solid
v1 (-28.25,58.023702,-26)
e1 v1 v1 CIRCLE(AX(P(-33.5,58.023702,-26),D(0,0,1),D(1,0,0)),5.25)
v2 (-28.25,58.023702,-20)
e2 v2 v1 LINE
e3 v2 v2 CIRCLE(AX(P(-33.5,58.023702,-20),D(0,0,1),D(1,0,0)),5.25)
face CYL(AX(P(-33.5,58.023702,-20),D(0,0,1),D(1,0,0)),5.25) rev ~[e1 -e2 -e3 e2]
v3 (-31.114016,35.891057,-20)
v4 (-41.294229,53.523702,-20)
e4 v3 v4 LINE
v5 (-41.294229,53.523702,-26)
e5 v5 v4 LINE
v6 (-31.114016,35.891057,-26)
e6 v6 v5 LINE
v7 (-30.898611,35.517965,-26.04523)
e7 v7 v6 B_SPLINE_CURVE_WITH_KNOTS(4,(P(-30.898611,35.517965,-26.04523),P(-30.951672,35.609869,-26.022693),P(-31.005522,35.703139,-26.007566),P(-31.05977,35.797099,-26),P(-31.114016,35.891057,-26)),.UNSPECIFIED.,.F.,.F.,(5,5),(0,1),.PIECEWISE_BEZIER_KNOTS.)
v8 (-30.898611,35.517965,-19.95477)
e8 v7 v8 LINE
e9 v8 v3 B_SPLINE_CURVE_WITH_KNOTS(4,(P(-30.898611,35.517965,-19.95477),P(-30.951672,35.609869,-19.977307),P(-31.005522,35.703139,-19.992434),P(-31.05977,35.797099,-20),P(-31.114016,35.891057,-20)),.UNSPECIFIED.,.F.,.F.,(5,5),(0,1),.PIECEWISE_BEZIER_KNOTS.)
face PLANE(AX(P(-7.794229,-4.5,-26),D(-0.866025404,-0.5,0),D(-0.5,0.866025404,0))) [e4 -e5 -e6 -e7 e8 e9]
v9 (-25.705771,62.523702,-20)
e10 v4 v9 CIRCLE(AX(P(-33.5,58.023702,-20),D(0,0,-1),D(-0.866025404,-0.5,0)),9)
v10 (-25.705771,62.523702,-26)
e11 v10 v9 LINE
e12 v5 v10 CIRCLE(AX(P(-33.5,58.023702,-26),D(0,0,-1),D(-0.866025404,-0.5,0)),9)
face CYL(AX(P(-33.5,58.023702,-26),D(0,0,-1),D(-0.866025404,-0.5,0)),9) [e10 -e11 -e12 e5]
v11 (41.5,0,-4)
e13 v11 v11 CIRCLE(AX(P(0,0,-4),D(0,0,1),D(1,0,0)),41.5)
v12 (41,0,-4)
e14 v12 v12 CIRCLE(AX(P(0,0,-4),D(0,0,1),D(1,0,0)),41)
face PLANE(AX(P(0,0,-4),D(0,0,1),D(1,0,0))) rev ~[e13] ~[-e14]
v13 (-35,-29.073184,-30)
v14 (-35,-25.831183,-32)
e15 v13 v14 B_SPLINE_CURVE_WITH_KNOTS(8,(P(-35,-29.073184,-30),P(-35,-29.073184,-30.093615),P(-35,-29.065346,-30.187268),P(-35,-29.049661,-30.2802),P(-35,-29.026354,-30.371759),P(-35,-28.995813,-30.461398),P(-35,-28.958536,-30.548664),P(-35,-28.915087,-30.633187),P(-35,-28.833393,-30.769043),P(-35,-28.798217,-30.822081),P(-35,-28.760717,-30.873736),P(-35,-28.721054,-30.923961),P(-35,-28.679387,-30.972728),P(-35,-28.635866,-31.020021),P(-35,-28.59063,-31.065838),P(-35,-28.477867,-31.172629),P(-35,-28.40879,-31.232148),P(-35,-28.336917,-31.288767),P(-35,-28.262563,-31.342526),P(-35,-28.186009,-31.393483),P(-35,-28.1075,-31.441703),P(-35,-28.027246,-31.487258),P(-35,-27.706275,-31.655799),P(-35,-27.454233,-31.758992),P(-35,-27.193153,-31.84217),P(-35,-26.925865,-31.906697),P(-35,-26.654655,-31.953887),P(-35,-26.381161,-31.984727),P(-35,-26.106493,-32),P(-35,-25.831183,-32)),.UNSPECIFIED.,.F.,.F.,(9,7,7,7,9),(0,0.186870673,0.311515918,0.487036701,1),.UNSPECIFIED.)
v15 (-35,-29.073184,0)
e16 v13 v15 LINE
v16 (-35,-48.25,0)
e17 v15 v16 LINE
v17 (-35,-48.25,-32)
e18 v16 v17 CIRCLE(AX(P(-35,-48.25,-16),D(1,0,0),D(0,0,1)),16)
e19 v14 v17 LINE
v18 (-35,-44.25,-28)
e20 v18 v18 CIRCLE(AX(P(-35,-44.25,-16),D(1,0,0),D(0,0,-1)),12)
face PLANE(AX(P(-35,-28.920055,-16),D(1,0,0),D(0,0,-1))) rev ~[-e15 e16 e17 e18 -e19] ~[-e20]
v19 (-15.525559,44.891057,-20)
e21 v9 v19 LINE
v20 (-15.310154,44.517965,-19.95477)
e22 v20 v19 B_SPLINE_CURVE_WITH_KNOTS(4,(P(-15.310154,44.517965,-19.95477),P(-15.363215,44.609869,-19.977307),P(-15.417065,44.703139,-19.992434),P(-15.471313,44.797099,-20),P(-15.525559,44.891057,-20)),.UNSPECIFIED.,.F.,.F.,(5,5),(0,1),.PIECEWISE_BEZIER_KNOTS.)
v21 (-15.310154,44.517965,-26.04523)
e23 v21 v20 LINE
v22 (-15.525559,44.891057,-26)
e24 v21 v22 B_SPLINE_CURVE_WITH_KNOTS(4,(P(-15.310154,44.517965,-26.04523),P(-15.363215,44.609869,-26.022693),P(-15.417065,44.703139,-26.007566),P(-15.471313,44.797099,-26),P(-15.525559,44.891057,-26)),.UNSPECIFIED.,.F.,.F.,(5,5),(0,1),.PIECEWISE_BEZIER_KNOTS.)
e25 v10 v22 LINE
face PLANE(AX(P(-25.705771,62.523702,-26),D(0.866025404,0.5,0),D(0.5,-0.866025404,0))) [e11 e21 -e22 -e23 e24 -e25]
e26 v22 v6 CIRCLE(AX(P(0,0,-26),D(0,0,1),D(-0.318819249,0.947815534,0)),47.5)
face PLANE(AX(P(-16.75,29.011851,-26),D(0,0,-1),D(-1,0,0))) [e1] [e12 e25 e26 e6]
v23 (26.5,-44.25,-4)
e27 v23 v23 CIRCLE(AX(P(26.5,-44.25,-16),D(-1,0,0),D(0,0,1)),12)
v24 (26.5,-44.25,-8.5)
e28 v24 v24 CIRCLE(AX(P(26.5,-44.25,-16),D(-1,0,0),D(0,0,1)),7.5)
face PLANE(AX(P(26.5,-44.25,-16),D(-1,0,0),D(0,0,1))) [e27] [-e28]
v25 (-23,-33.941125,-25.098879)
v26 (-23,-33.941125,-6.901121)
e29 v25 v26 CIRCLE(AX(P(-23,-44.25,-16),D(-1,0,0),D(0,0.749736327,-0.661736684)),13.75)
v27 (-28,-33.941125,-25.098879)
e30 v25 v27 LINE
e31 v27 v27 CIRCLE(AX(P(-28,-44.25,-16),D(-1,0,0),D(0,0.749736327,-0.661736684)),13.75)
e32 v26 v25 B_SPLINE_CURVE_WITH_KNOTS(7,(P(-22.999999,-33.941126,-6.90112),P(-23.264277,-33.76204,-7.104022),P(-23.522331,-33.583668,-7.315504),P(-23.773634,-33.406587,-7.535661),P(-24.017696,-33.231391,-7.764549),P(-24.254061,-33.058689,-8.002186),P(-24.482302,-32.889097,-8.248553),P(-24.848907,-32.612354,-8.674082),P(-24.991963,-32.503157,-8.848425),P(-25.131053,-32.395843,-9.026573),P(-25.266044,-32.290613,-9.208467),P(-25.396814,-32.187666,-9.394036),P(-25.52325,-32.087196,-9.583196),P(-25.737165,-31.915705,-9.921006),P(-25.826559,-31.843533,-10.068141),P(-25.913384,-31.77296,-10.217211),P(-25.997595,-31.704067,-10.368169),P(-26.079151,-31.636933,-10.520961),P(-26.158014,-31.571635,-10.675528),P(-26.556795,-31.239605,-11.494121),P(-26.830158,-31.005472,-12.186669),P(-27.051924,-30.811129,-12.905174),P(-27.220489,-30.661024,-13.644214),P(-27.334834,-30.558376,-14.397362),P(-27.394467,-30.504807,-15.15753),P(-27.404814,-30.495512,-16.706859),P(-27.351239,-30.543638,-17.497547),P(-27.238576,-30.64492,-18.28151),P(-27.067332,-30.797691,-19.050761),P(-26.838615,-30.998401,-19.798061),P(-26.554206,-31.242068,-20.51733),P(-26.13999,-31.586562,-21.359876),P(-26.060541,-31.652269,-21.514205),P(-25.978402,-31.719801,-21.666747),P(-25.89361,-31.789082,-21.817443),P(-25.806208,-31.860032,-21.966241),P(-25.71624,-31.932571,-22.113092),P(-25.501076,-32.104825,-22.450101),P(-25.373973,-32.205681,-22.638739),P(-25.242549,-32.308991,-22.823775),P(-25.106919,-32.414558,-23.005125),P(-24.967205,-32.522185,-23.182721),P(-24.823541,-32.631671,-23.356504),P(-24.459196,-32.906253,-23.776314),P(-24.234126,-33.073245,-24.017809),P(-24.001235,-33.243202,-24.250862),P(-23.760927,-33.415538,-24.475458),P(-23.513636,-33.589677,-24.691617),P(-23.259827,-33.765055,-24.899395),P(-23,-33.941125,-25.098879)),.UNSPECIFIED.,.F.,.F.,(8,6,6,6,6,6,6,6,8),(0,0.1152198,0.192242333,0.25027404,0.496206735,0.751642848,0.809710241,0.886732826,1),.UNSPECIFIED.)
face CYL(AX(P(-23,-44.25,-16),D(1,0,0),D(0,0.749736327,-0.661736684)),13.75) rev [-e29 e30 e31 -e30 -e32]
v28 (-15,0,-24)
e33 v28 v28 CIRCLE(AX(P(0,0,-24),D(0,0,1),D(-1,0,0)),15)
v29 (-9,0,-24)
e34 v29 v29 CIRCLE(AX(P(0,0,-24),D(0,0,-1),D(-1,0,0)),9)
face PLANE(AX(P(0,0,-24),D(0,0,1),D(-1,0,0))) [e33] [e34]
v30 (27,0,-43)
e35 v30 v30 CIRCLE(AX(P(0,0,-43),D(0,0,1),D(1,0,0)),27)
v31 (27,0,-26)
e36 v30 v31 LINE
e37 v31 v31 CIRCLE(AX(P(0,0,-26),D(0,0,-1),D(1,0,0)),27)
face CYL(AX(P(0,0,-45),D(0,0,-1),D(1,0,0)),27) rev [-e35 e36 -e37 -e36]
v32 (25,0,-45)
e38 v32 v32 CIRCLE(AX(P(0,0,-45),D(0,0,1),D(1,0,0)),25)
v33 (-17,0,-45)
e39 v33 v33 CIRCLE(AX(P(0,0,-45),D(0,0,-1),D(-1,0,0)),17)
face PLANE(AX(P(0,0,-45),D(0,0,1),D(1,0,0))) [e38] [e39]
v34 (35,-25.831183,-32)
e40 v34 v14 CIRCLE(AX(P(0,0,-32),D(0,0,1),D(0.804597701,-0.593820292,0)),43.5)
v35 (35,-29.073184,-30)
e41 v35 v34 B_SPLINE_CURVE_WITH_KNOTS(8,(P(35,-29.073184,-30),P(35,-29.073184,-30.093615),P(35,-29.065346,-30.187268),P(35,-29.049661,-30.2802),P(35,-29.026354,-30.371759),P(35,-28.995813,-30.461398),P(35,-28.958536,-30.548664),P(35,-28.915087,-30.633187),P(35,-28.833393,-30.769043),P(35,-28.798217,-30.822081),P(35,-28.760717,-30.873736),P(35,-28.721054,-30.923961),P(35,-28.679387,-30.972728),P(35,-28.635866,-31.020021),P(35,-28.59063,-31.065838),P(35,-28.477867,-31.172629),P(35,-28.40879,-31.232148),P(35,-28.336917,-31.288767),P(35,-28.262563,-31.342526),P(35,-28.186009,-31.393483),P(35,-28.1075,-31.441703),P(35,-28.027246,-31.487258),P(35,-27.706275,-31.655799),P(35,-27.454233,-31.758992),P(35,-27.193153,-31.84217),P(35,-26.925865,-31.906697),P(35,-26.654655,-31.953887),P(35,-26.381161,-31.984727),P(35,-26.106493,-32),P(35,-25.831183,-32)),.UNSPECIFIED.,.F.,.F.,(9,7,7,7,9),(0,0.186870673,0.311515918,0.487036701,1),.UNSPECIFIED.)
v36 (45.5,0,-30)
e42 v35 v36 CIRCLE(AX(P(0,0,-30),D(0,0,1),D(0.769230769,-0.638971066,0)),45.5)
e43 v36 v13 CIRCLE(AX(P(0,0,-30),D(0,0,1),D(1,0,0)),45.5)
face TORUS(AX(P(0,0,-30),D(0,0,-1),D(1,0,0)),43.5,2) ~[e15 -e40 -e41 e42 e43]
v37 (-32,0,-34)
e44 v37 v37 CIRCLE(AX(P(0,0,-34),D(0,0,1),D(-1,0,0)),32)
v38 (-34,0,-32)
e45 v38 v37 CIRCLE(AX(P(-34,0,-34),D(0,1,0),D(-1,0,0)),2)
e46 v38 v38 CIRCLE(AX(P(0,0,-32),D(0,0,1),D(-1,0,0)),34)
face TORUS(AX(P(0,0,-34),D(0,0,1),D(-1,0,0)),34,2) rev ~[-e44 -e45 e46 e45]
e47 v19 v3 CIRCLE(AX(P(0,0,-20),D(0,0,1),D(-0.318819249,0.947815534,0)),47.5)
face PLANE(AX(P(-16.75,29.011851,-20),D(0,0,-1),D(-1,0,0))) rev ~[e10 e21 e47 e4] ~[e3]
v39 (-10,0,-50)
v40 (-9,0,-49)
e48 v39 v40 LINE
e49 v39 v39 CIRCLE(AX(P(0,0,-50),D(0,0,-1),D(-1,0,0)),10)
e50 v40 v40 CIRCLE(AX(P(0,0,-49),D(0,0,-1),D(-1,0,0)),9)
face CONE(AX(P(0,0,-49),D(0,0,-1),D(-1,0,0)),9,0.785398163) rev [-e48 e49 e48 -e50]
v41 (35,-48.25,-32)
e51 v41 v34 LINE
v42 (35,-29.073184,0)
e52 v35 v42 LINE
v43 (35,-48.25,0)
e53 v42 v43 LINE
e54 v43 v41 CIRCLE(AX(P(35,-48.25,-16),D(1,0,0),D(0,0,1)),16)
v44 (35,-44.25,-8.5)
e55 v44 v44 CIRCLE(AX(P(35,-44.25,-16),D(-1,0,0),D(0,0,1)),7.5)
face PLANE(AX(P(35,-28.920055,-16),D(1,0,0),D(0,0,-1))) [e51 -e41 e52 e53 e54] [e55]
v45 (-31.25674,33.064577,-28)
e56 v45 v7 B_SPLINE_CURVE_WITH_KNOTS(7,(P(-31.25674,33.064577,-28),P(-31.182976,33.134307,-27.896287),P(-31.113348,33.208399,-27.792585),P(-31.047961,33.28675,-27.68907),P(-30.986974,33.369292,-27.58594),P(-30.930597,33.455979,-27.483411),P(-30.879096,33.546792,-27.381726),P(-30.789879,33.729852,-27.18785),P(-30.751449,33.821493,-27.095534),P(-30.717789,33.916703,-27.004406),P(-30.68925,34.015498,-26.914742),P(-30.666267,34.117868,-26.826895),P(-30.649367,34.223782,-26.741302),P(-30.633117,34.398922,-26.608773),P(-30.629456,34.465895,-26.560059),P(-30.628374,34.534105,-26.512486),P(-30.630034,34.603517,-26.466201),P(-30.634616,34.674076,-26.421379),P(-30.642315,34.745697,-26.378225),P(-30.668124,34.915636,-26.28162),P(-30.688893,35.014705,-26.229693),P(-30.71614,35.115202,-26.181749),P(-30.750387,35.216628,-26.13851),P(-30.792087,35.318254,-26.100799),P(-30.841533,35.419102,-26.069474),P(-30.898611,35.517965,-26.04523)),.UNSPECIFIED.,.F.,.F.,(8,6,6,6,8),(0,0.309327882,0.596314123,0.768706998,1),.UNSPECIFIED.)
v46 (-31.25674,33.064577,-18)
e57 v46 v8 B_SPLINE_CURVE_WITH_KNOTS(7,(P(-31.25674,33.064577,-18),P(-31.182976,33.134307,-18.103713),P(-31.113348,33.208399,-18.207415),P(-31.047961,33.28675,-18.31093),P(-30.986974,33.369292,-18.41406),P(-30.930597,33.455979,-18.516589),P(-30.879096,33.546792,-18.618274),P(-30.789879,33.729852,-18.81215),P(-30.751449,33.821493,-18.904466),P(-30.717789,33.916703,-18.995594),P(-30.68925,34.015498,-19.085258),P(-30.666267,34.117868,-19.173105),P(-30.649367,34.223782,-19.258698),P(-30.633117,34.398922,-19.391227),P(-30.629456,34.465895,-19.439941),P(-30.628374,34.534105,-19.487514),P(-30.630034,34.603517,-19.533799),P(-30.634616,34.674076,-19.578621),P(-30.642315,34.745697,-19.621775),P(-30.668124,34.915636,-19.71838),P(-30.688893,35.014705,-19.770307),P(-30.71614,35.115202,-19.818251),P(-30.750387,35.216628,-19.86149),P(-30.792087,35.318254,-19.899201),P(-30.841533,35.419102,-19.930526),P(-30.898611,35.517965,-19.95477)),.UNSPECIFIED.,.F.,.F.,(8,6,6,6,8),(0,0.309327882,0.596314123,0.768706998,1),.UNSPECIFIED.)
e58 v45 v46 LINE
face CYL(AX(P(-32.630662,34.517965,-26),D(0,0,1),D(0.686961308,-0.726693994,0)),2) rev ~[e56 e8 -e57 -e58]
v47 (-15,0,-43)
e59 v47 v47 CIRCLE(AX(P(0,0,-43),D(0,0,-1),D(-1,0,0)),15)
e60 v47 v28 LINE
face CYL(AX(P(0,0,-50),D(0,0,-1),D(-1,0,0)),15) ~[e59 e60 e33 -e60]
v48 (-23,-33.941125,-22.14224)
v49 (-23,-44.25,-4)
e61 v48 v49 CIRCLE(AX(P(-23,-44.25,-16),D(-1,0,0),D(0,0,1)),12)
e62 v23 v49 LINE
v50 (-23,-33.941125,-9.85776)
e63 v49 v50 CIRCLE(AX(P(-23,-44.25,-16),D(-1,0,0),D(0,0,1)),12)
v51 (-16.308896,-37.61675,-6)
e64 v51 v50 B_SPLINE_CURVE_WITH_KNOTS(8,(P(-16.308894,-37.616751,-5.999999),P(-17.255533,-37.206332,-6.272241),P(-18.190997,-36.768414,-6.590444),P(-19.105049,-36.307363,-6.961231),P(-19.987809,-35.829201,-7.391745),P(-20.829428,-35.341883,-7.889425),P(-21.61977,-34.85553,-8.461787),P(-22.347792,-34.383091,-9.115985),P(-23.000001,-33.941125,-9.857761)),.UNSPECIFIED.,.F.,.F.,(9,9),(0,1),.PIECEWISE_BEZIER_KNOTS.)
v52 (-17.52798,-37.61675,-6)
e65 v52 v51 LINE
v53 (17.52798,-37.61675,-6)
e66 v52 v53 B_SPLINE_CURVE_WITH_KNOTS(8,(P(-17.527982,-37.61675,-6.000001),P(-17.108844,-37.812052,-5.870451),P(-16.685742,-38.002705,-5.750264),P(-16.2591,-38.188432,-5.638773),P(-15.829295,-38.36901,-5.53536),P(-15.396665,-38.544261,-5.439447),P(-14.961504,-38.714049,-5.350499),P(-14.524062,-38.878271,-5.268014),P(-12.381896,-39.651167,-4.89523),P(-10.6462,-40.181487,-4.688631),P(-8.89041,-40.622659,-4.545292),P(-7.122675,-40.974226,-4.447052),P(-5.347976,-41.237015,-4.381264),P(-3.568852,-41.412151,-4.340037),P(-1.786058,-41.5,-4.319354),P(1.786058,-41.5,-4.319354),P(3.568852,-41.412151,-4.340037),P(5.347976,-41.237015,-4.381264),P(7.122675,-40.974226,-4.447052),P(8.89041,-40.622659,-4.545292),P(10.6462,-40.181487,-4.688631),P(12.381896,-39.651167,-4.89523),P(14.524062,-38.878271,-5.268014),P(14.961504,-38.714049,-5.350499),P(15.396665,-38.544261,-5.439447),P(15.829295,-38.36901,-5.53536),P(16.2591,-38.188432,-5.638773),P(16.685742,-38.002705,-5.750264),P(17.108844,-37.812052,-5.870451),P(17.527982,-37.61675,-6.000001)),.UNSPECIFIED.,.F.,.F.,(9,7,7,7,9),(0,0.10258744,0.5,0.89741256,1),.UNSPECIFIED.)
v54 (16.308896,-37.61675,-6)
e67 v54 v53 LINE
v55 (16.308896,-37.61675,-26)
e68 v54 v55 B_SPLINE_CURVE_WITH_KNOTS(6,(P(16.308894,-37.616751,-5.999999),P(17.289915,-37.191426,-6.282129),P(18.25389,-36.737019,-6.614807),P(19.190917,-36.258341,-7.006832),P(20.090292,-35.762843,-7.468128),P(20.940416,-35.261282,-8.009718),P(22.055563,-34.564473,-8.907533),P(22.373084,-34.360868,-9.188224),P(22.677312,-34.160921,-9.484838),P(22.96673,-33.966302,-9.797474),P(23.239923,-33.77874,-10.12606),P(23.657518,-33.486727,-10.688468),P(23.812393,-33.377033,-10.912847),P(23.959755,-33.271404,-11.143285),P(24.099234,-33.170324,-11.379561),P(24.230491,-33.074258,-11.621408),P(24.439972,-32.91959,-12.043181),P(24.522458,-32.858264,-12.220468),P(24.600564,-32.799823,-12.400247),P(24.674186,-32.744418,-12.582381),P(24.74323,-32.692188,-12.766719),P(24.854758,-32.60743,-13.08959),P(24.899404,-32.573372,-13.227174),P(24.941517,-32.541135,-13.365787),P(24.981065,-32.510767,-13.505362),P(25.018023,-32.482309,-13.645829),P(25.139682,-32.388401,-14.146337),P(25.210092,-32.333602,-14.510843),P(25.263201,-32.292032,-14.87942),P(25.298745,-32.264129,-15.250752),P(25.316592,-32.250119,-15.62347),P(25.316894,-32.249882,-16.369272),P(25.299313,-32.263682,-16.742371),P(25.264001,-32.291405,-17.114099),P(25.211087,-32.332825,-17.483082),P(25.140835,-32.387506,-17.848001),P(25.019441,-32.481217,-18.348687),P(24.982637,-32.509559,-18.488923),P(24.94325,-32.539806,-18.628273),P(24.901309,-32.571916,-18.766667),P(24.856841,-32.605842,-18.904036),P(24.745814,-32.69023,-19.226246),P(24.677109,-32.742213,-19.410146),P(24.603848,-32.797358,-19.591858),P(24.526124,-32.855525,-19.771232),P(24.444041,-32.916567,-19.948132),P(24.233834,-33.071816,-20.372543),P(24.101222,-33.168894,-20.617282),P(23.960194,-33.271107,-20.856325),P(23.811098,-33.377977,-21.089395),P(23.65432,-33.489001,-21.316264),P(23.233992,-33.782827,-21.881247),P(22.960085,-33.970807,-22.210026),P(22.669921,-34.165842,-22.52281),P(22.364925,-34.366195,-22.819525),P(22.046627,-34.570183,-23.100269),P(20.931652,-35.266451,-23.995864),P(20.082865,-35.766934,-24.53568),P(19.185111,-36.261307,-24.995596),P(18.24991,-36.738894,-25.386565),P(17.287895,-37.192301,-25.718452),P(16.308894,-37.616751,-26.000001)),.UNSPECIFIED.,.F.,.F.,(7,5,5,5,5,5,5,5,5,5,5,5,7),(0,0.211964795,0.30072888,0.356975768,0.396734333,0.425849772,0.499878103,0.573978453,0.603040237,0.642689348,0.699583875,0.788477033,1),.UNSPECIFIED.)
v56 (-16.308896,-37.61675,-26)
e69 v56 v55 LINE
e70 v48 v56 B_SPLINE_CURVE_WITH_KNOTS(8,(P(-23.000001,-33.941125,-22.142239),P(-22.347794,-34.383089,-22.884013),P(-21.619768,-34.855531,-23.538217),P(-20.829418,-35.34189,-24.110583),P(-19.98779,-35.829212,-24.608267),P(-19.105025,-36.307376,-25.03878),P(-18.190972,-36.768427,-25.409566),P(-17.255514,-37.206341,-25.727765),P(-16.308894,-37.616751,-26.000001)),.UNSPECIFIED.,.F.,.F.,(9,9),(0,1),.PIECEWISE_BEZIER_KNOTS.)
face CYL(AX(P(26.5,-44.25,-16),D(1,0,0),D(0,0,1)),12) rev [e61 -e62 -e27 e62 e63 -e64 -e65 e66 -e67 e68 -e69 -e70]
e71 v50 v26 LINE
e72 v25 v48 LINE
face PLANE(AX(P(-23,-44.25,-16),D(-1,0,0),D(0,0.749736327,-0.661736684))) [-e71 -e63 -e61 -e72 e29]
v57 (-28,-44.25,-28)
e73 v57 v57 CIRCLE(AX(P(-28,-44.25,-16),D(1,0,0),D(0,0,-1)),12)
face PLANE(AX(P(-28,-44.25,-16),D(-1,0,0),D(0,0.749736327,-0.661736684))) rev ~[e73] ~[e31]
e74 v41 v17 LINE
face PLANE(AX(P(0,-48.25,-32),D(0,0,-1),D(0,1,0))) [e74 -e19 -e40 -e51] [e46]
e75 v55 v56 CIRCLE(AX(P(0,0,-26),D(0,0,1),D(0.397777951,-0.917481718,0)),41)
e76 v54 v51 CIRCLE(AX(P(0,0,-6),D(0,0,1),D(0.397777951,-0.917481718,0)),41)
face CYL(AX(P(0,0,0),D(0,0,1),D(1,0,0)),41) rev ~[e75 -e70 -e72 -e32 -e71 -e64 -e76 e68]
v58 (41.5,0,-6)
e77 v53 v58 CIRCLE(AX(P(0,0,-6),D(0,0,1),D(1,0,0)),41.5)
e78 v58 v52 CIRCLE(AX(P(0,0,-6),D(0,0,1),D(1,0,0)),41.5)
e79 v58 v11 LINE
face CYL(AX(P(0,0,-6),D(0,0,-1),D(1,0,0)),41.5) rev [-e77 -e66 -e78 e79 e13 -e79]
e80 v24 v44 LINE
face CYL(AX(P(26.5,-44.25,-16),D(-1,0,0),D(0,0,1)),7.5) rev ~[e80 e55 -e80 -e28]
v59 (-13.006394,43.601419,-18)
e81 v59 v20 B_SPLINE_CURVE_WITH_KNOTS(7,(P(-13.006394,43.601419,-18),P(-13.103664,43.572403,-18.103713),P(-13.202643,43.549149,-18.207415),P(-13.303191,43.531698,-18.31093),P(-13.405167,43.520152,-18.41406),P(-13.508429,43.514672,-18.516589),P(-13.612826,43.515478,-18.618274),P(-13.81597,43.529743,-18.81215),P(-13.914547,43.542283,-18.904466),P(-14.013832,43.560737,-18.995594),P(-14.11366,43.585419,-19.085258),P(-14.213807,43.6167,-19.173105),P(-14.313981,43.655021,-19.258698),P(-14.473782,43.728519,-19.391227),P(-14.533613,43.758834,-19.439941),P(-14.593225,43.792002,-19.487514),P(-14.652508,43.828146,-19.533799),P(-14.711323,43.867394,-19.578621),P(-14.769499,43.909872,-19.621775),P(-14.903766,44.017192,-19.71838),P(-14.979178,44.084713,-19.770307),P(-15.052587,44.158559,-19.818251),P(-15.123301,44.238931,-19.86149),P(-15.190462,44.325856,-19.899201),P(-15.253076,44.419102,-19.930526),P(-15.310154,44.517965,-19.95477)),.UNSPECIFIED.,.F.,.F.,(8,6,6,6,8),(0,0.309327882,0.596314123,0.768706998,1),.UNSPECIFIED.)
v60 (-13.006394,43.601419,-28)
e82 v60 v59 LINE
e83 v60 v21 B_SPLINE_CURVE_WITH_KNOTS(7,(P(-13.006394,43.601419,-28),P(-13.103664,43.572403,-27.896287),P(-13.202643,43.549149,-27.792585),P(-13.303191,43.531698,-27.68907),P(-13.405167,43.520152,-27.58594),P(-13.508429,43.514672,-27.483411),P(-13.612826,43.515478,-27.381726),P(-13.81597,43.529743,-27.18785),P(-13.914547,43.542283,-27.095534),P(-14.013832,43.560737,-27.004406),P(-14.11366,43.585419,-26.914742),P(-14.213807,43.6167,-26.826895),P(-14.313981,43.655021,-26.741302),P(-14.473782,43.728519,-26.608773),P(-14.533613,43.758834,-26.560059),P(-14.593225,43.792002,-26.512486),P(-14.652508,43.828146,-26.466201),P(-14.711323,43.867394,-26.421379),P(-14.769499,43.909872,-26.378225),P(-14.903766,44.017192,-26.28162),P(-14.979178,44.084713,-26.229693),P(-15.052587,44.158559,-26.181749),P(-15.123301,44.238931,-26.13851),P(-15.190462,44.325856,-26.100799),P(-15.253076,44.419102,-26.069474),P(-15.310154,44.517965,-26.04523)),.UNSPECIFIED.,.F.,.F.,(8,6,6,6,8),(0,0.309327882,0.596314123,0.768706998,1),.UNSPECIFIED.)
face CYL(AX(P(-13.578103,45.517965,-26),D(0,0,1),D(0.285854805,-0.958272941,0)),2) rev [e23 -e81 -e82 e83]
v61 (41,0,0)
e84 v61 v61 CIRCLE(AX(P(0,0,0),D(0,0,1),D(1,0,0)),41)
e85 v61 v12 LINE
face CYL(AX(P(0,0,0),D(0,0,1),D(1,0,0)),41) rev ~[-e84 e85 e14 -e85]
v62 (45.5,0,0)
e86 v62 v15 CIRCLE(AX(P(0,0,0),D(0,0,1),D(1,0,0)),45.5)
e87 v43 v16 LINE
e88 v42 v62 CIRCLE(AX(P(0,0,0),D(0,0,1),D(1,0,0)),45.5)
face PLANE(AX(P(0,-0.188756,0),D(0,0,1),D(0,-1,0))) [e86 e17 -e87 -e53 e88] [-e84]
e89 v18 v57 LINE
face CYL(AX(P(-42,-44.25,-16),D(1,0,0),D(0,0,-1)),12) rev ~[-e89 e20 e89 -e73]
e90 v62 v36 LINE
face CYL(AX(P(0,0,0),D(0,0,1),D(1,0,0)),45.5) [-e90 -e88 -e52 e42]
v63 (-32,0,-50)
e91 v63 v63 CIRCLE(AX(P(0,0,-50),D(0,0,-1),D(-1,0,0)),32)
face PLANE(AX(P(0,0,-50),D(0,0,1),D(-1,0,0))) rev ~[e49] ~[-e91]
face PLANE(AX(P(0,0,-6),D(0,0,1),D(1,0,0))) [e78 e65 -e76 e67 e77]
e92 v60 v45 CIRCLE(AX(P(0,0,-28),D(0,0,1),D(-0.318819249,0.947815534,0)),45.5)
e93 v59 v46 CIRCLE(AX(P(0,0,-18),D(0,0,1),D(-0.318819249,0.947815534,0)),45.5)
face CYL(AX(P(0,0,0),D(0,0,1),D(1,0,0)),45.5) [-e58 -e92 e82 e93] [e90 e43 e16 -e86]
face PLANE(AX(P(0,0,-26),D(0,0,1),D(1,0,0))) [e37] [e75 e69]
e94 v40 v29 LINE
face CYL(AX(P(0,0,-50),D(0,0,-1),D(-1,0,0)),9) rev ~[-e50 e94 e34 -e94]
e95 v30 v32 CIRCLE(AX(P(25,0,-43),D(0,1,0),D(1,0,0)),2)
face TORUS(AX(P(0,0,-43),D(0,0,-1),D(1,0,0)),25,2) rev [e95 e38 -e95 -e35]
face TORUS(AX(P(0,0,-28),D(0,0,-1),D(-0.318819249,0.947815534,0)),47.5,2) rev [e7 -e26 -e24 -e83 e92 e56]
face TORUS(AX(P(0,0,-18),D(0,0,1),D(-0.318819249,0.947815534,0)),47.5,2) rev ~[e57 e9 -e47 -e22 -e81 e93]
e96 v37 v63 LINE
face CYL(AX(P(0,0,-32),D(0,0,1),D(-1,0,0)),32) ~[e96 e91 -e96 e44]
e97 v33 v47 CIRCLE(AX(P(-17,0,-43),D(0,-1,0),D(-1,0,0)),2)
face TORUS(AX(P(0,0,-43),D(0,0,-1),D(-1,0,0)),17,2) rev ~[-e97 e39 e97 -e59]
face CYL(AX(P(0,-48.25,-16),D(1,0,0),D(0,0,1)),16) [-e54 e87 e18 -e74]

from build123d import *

# Parameters (mm, degrees)
SKETCH_1_R              = 45.5
EXTRUDE_1_DEPTH         = 32
SKETCH_2_R              = 32
EXTRUDE_2_DEPTH         = 18
EXTRUDE_START           = -26
EXTRUDE_3_DEPTH         = 6
SKETCH_4_R              = 5.25
CUT_EXTRUDE_1_DEPTH     = 87.38533809
EXTRUDE_4_DEPTH         = 35
SKETCH_6_R              = 41
CUT_EXTRUDE_2_DEPTH     = 26
CUT_EXTRUDE_START       = -6
SKETCH_7_R              = 41.5
CUT_EXTRUDE_3_DEPTH     = 2
CUT_EXTRUDE_4_REACH     = 102.197
CUT_EXTRUDE_START_2     = 5
SKETCH_8_R              = 27
EXTRUDE_START_2         = -5
SKETCH_9_R              = 15
EXTRUDE_5_DEPTH         = 26
CUT_EXTRUDE_5_REACH     = 97.197
SKETCH_10_R             = 9
CHAMFER_1_SIZE          = 1
CUT_EXTRUDE_START_3     = -12
SKETCH_11_R             = 13.75
CUT_EXTRUDE_6_DEPTH     = 5
HOLE_WIZARD_M27_1_D     = 24
HOLE_WIZARD_M27_1_DEPTH = 7
CUT_EXTRUDE_START_4     = -49.5
SKETCH_14_R             = 12
CUT_EXTRUDE_7_DEPTH     = 49.5
CUT_EXTRUDE_8_REACH     = 112.346
SKETCH_15_R             = 7.5
FILLET_1_R              = 2
FILLET_2_R              = 2
FILLET_3_R              = 2


with BuildPart() as part:
    # 草图1 → 凸台-拉伸1 (new body)
    with BuildSketch(Plane.XY):
        Circle(SKETCH_1_R)
    extrude(amount=-EXTRUDE_1_DEPTH)

    # 草图2 → 凸台-拉伸2 (add)
    with BuildSketch(Plane(origin=(0, 0, -32), x_dir=(-1, 0, 0), z_dir=(0, 0, -1))):
        Circle(SKETCH_2_R)
    extrude(amount=EXTRUDE_2_DEPTH)

    # 草图3 → 凸台-拉伸3 (add)
    with BuildSketch(Plane.XY.offset(EXTRUDE_START)):
        with BuildLine():
            Line((-7.794228634, -4.5), (-41.294228634, 53.523702054))
            ThreePointArc((-41.294228634, 53.523702054), (-38, 65.817930688), (-25.705771366, 62.523702054))
            Line((-25.705771366, 62.523702054), (7.794228634, 4.5))
            ThreePointArc((7.794228634, 4.5), (4.5, -7.794228634), (-7.794228634, -4.5))
        make_face()
    extrude(amount=EXTRUDE_3_DEPTH)

    # 草图4 → 切除-拉伸1 (cut, through all)
    with BuildSketch(Plane.XY.offset(-20)):
        with Locations((-33.5, 58.023702054)):
            Circle(SKETCH_4_R)
    extrude(amount=-CUT_EXTRUDE_1_DEPTH, mode=Mode.SUBTRACT)

    # 草图5 → 凸台-拉伸4 (add, symmetric)
    with BuildSketch(Plane(origin=(0, 0, 0), x_dir=(0, 0, -1), z_dir=(1, 0, 0))):
        with BuildLine():
            Line((32, -48.25), (32, -0.188756435))
            Line((32, -0.188756435), (0, -0.188756435))
            Line((0, -0.188756435), (0, -48.25))
            ThreePointArc((0, -48.25), (16, -64.25), (32, -48.25))
        make_face()
    extrude(amount=EXTRUDE_4_DEPTH, both=True)

    # 草图6 → 切除-拉伸2 (cut)
    with BuildSketch(Plane.XY):
        Circle(SKETCH_6_R)
    extrude(amount=-CUT_EXTRUDE_2_DEPTH, mode=Mode.SUBTRACT)

    # 草图7 → 切除-拉伸3 (cut)
    with BuildSketch(Plane.XY.offset(CUT_EXTRUDE_START)):
        Circle(SKETCH_7_R)
    extrude(amount=CUT_EXTRUDE_3_DEPTH, mode=Mode.SUBTRACT)

    # 草图8 → 切除-拉伸4 (cut, up to next)
    with BuildSketch(Plane.XY.offset(-50).offset(CUT_EXTRUDE_START_2), mode=Mode.PRIVATE) as cut_extrude_4_sk1:
        Circle(SKETCH_8_R)
    cut_extrude_4_tool1 = extrude(cut_extrude_4_sk1.sketch, amount=CUT_EXTRUDE_4_REACH, mode=Mode.PRIVATE) & part.part
    add(cut_extrude_4_tool1.solids().sort_by_distance((0, 0, -45))[0], mode=Mode.SUBTRACT)

    # 草图9 → 凸台-拉伸5 (add)
    with BuildSketch(Plane.XY.offset(-45).offset(EXTRUDE_START_2)):
        with Locations(Location((0, 0, 0), (0, 0, 180))):
            Circle(SKETCH_9_R)
    extrude(amount=EXTRUDE_5_DEPTH)

    # 草图10 → 切除-拉伸5 (cut, up to next)
    with BuildSketch(Plane(origin=(0, 0, -50), x_dir=(-1, 0, 0), z_dir=(0, 0, -1)), mode=Mode.PRIVATE) as cut_extrude_5_sk1:
        Circle(SKETCH_10_R)
    cut_extrude_5_tool1 = extrude(cut_extrude_5_sk1.sketch, amount=-CUT_EXTRUDE_5_REACH, mode=Mode.PRIVATE) & part.part
    add(cut_extrude_5_tool1.solids().sort_by_distance((0, 0, -50))[0], mode=Mode.SUBTRACT)

    # 倒角1
    chamfer_1_edges = [part.edges().sort_by_distance(p)[0] for p in [
        (9, 0, -50),
    ]]
    chamfer(chamfer_1_edges, length=CHAMFER_1_SIZE)

    # 草图11 → 切除-拉伸6 (cut)
    with BuildSketch(Plane.ZY.offset(35).offset(CUT_EXTRUDE_START_3)):
        with Locations(Location((-16, -44.25, 0), (0, 0, 131.432457074))):
            Circle(SKETCH_11_R)
    extrude(amount=CUT_EXTRUDE_6_DEPTH, mode=Mode.SUBTRACT)

    # M27 螺纹孔1
    with Locations(Plane.ZY.offset(35)):
        with Locations((-16, -44.25)):
            Hole(HOLE_WIZARD_M27_1_D / 2, depth=HOLE_WIZARD_M27_1_DEPTH)

    # 草图14 → 切除-拉伸7 (cut)
    with BuildSketch(Plane.ZY.offset(23).offset(CUT_EXTRUDE_START_4)):
        with Locations((-16, -44.25)):
            Circle(SKETCH_14_R)
    extrude(amount=CUT_EXTRUDE_7_DEPTH, mode=Mode.SUBTRACT)

    # 草图15 → 切除-拉伸8 (cut, up to next)
    with BuildSketch(Plane.ZY.offset(-26.5), mode=Mode.PRIVATE) as cut_extrude_8_sk1:
        with Locations((-16, -44.25)):
            Circle(SKETCH_15_R)
    cut_extrude_8_tool1 = extrude(cut_extrude_8_sk1.sketch, amount=-CUT_EXTRUDE_8_REACH, mode=Mode.PRIVATE) & part.part
    add(cut_extrude_8_tool1.solids().sort_by_distance((26.5, -44.25, -16))[0], mode=Mode.SUBTRACT)

    # 圆角1
    fillet_1_edges = [part.edges().sort_by_distance(p)[0] for p in [
        (-14.506275845, 43.125606791, -23),
        (-22.75, 39.404155872, -20),
        (-30.094733113, 34.125606791, -23),
        (-22.75, 39.404155872, -26),
    ]]
    fillet(fillet_1_edges, radius=FILLET_1_R)

    # 圆角2
    fillet_2_edges = [part.edges().sort_by_distance(p)[0] for p in [
        (-15.455581516, 42.794567412, -32),
        (32.000000002, 0, -32),
    ]]
    fillet(fillet_2_edges, radius=FILLET_2_R)

    # 圆角3
    fillet_3_edges = [part.edges().sort_by_distance(p)[0] for p in [
        (-27, 0, -45),
        (15, 0, -45),
    ]]
    fillet(fillet_3_edges, radius=FILLET_3_R)


solid = part.part
